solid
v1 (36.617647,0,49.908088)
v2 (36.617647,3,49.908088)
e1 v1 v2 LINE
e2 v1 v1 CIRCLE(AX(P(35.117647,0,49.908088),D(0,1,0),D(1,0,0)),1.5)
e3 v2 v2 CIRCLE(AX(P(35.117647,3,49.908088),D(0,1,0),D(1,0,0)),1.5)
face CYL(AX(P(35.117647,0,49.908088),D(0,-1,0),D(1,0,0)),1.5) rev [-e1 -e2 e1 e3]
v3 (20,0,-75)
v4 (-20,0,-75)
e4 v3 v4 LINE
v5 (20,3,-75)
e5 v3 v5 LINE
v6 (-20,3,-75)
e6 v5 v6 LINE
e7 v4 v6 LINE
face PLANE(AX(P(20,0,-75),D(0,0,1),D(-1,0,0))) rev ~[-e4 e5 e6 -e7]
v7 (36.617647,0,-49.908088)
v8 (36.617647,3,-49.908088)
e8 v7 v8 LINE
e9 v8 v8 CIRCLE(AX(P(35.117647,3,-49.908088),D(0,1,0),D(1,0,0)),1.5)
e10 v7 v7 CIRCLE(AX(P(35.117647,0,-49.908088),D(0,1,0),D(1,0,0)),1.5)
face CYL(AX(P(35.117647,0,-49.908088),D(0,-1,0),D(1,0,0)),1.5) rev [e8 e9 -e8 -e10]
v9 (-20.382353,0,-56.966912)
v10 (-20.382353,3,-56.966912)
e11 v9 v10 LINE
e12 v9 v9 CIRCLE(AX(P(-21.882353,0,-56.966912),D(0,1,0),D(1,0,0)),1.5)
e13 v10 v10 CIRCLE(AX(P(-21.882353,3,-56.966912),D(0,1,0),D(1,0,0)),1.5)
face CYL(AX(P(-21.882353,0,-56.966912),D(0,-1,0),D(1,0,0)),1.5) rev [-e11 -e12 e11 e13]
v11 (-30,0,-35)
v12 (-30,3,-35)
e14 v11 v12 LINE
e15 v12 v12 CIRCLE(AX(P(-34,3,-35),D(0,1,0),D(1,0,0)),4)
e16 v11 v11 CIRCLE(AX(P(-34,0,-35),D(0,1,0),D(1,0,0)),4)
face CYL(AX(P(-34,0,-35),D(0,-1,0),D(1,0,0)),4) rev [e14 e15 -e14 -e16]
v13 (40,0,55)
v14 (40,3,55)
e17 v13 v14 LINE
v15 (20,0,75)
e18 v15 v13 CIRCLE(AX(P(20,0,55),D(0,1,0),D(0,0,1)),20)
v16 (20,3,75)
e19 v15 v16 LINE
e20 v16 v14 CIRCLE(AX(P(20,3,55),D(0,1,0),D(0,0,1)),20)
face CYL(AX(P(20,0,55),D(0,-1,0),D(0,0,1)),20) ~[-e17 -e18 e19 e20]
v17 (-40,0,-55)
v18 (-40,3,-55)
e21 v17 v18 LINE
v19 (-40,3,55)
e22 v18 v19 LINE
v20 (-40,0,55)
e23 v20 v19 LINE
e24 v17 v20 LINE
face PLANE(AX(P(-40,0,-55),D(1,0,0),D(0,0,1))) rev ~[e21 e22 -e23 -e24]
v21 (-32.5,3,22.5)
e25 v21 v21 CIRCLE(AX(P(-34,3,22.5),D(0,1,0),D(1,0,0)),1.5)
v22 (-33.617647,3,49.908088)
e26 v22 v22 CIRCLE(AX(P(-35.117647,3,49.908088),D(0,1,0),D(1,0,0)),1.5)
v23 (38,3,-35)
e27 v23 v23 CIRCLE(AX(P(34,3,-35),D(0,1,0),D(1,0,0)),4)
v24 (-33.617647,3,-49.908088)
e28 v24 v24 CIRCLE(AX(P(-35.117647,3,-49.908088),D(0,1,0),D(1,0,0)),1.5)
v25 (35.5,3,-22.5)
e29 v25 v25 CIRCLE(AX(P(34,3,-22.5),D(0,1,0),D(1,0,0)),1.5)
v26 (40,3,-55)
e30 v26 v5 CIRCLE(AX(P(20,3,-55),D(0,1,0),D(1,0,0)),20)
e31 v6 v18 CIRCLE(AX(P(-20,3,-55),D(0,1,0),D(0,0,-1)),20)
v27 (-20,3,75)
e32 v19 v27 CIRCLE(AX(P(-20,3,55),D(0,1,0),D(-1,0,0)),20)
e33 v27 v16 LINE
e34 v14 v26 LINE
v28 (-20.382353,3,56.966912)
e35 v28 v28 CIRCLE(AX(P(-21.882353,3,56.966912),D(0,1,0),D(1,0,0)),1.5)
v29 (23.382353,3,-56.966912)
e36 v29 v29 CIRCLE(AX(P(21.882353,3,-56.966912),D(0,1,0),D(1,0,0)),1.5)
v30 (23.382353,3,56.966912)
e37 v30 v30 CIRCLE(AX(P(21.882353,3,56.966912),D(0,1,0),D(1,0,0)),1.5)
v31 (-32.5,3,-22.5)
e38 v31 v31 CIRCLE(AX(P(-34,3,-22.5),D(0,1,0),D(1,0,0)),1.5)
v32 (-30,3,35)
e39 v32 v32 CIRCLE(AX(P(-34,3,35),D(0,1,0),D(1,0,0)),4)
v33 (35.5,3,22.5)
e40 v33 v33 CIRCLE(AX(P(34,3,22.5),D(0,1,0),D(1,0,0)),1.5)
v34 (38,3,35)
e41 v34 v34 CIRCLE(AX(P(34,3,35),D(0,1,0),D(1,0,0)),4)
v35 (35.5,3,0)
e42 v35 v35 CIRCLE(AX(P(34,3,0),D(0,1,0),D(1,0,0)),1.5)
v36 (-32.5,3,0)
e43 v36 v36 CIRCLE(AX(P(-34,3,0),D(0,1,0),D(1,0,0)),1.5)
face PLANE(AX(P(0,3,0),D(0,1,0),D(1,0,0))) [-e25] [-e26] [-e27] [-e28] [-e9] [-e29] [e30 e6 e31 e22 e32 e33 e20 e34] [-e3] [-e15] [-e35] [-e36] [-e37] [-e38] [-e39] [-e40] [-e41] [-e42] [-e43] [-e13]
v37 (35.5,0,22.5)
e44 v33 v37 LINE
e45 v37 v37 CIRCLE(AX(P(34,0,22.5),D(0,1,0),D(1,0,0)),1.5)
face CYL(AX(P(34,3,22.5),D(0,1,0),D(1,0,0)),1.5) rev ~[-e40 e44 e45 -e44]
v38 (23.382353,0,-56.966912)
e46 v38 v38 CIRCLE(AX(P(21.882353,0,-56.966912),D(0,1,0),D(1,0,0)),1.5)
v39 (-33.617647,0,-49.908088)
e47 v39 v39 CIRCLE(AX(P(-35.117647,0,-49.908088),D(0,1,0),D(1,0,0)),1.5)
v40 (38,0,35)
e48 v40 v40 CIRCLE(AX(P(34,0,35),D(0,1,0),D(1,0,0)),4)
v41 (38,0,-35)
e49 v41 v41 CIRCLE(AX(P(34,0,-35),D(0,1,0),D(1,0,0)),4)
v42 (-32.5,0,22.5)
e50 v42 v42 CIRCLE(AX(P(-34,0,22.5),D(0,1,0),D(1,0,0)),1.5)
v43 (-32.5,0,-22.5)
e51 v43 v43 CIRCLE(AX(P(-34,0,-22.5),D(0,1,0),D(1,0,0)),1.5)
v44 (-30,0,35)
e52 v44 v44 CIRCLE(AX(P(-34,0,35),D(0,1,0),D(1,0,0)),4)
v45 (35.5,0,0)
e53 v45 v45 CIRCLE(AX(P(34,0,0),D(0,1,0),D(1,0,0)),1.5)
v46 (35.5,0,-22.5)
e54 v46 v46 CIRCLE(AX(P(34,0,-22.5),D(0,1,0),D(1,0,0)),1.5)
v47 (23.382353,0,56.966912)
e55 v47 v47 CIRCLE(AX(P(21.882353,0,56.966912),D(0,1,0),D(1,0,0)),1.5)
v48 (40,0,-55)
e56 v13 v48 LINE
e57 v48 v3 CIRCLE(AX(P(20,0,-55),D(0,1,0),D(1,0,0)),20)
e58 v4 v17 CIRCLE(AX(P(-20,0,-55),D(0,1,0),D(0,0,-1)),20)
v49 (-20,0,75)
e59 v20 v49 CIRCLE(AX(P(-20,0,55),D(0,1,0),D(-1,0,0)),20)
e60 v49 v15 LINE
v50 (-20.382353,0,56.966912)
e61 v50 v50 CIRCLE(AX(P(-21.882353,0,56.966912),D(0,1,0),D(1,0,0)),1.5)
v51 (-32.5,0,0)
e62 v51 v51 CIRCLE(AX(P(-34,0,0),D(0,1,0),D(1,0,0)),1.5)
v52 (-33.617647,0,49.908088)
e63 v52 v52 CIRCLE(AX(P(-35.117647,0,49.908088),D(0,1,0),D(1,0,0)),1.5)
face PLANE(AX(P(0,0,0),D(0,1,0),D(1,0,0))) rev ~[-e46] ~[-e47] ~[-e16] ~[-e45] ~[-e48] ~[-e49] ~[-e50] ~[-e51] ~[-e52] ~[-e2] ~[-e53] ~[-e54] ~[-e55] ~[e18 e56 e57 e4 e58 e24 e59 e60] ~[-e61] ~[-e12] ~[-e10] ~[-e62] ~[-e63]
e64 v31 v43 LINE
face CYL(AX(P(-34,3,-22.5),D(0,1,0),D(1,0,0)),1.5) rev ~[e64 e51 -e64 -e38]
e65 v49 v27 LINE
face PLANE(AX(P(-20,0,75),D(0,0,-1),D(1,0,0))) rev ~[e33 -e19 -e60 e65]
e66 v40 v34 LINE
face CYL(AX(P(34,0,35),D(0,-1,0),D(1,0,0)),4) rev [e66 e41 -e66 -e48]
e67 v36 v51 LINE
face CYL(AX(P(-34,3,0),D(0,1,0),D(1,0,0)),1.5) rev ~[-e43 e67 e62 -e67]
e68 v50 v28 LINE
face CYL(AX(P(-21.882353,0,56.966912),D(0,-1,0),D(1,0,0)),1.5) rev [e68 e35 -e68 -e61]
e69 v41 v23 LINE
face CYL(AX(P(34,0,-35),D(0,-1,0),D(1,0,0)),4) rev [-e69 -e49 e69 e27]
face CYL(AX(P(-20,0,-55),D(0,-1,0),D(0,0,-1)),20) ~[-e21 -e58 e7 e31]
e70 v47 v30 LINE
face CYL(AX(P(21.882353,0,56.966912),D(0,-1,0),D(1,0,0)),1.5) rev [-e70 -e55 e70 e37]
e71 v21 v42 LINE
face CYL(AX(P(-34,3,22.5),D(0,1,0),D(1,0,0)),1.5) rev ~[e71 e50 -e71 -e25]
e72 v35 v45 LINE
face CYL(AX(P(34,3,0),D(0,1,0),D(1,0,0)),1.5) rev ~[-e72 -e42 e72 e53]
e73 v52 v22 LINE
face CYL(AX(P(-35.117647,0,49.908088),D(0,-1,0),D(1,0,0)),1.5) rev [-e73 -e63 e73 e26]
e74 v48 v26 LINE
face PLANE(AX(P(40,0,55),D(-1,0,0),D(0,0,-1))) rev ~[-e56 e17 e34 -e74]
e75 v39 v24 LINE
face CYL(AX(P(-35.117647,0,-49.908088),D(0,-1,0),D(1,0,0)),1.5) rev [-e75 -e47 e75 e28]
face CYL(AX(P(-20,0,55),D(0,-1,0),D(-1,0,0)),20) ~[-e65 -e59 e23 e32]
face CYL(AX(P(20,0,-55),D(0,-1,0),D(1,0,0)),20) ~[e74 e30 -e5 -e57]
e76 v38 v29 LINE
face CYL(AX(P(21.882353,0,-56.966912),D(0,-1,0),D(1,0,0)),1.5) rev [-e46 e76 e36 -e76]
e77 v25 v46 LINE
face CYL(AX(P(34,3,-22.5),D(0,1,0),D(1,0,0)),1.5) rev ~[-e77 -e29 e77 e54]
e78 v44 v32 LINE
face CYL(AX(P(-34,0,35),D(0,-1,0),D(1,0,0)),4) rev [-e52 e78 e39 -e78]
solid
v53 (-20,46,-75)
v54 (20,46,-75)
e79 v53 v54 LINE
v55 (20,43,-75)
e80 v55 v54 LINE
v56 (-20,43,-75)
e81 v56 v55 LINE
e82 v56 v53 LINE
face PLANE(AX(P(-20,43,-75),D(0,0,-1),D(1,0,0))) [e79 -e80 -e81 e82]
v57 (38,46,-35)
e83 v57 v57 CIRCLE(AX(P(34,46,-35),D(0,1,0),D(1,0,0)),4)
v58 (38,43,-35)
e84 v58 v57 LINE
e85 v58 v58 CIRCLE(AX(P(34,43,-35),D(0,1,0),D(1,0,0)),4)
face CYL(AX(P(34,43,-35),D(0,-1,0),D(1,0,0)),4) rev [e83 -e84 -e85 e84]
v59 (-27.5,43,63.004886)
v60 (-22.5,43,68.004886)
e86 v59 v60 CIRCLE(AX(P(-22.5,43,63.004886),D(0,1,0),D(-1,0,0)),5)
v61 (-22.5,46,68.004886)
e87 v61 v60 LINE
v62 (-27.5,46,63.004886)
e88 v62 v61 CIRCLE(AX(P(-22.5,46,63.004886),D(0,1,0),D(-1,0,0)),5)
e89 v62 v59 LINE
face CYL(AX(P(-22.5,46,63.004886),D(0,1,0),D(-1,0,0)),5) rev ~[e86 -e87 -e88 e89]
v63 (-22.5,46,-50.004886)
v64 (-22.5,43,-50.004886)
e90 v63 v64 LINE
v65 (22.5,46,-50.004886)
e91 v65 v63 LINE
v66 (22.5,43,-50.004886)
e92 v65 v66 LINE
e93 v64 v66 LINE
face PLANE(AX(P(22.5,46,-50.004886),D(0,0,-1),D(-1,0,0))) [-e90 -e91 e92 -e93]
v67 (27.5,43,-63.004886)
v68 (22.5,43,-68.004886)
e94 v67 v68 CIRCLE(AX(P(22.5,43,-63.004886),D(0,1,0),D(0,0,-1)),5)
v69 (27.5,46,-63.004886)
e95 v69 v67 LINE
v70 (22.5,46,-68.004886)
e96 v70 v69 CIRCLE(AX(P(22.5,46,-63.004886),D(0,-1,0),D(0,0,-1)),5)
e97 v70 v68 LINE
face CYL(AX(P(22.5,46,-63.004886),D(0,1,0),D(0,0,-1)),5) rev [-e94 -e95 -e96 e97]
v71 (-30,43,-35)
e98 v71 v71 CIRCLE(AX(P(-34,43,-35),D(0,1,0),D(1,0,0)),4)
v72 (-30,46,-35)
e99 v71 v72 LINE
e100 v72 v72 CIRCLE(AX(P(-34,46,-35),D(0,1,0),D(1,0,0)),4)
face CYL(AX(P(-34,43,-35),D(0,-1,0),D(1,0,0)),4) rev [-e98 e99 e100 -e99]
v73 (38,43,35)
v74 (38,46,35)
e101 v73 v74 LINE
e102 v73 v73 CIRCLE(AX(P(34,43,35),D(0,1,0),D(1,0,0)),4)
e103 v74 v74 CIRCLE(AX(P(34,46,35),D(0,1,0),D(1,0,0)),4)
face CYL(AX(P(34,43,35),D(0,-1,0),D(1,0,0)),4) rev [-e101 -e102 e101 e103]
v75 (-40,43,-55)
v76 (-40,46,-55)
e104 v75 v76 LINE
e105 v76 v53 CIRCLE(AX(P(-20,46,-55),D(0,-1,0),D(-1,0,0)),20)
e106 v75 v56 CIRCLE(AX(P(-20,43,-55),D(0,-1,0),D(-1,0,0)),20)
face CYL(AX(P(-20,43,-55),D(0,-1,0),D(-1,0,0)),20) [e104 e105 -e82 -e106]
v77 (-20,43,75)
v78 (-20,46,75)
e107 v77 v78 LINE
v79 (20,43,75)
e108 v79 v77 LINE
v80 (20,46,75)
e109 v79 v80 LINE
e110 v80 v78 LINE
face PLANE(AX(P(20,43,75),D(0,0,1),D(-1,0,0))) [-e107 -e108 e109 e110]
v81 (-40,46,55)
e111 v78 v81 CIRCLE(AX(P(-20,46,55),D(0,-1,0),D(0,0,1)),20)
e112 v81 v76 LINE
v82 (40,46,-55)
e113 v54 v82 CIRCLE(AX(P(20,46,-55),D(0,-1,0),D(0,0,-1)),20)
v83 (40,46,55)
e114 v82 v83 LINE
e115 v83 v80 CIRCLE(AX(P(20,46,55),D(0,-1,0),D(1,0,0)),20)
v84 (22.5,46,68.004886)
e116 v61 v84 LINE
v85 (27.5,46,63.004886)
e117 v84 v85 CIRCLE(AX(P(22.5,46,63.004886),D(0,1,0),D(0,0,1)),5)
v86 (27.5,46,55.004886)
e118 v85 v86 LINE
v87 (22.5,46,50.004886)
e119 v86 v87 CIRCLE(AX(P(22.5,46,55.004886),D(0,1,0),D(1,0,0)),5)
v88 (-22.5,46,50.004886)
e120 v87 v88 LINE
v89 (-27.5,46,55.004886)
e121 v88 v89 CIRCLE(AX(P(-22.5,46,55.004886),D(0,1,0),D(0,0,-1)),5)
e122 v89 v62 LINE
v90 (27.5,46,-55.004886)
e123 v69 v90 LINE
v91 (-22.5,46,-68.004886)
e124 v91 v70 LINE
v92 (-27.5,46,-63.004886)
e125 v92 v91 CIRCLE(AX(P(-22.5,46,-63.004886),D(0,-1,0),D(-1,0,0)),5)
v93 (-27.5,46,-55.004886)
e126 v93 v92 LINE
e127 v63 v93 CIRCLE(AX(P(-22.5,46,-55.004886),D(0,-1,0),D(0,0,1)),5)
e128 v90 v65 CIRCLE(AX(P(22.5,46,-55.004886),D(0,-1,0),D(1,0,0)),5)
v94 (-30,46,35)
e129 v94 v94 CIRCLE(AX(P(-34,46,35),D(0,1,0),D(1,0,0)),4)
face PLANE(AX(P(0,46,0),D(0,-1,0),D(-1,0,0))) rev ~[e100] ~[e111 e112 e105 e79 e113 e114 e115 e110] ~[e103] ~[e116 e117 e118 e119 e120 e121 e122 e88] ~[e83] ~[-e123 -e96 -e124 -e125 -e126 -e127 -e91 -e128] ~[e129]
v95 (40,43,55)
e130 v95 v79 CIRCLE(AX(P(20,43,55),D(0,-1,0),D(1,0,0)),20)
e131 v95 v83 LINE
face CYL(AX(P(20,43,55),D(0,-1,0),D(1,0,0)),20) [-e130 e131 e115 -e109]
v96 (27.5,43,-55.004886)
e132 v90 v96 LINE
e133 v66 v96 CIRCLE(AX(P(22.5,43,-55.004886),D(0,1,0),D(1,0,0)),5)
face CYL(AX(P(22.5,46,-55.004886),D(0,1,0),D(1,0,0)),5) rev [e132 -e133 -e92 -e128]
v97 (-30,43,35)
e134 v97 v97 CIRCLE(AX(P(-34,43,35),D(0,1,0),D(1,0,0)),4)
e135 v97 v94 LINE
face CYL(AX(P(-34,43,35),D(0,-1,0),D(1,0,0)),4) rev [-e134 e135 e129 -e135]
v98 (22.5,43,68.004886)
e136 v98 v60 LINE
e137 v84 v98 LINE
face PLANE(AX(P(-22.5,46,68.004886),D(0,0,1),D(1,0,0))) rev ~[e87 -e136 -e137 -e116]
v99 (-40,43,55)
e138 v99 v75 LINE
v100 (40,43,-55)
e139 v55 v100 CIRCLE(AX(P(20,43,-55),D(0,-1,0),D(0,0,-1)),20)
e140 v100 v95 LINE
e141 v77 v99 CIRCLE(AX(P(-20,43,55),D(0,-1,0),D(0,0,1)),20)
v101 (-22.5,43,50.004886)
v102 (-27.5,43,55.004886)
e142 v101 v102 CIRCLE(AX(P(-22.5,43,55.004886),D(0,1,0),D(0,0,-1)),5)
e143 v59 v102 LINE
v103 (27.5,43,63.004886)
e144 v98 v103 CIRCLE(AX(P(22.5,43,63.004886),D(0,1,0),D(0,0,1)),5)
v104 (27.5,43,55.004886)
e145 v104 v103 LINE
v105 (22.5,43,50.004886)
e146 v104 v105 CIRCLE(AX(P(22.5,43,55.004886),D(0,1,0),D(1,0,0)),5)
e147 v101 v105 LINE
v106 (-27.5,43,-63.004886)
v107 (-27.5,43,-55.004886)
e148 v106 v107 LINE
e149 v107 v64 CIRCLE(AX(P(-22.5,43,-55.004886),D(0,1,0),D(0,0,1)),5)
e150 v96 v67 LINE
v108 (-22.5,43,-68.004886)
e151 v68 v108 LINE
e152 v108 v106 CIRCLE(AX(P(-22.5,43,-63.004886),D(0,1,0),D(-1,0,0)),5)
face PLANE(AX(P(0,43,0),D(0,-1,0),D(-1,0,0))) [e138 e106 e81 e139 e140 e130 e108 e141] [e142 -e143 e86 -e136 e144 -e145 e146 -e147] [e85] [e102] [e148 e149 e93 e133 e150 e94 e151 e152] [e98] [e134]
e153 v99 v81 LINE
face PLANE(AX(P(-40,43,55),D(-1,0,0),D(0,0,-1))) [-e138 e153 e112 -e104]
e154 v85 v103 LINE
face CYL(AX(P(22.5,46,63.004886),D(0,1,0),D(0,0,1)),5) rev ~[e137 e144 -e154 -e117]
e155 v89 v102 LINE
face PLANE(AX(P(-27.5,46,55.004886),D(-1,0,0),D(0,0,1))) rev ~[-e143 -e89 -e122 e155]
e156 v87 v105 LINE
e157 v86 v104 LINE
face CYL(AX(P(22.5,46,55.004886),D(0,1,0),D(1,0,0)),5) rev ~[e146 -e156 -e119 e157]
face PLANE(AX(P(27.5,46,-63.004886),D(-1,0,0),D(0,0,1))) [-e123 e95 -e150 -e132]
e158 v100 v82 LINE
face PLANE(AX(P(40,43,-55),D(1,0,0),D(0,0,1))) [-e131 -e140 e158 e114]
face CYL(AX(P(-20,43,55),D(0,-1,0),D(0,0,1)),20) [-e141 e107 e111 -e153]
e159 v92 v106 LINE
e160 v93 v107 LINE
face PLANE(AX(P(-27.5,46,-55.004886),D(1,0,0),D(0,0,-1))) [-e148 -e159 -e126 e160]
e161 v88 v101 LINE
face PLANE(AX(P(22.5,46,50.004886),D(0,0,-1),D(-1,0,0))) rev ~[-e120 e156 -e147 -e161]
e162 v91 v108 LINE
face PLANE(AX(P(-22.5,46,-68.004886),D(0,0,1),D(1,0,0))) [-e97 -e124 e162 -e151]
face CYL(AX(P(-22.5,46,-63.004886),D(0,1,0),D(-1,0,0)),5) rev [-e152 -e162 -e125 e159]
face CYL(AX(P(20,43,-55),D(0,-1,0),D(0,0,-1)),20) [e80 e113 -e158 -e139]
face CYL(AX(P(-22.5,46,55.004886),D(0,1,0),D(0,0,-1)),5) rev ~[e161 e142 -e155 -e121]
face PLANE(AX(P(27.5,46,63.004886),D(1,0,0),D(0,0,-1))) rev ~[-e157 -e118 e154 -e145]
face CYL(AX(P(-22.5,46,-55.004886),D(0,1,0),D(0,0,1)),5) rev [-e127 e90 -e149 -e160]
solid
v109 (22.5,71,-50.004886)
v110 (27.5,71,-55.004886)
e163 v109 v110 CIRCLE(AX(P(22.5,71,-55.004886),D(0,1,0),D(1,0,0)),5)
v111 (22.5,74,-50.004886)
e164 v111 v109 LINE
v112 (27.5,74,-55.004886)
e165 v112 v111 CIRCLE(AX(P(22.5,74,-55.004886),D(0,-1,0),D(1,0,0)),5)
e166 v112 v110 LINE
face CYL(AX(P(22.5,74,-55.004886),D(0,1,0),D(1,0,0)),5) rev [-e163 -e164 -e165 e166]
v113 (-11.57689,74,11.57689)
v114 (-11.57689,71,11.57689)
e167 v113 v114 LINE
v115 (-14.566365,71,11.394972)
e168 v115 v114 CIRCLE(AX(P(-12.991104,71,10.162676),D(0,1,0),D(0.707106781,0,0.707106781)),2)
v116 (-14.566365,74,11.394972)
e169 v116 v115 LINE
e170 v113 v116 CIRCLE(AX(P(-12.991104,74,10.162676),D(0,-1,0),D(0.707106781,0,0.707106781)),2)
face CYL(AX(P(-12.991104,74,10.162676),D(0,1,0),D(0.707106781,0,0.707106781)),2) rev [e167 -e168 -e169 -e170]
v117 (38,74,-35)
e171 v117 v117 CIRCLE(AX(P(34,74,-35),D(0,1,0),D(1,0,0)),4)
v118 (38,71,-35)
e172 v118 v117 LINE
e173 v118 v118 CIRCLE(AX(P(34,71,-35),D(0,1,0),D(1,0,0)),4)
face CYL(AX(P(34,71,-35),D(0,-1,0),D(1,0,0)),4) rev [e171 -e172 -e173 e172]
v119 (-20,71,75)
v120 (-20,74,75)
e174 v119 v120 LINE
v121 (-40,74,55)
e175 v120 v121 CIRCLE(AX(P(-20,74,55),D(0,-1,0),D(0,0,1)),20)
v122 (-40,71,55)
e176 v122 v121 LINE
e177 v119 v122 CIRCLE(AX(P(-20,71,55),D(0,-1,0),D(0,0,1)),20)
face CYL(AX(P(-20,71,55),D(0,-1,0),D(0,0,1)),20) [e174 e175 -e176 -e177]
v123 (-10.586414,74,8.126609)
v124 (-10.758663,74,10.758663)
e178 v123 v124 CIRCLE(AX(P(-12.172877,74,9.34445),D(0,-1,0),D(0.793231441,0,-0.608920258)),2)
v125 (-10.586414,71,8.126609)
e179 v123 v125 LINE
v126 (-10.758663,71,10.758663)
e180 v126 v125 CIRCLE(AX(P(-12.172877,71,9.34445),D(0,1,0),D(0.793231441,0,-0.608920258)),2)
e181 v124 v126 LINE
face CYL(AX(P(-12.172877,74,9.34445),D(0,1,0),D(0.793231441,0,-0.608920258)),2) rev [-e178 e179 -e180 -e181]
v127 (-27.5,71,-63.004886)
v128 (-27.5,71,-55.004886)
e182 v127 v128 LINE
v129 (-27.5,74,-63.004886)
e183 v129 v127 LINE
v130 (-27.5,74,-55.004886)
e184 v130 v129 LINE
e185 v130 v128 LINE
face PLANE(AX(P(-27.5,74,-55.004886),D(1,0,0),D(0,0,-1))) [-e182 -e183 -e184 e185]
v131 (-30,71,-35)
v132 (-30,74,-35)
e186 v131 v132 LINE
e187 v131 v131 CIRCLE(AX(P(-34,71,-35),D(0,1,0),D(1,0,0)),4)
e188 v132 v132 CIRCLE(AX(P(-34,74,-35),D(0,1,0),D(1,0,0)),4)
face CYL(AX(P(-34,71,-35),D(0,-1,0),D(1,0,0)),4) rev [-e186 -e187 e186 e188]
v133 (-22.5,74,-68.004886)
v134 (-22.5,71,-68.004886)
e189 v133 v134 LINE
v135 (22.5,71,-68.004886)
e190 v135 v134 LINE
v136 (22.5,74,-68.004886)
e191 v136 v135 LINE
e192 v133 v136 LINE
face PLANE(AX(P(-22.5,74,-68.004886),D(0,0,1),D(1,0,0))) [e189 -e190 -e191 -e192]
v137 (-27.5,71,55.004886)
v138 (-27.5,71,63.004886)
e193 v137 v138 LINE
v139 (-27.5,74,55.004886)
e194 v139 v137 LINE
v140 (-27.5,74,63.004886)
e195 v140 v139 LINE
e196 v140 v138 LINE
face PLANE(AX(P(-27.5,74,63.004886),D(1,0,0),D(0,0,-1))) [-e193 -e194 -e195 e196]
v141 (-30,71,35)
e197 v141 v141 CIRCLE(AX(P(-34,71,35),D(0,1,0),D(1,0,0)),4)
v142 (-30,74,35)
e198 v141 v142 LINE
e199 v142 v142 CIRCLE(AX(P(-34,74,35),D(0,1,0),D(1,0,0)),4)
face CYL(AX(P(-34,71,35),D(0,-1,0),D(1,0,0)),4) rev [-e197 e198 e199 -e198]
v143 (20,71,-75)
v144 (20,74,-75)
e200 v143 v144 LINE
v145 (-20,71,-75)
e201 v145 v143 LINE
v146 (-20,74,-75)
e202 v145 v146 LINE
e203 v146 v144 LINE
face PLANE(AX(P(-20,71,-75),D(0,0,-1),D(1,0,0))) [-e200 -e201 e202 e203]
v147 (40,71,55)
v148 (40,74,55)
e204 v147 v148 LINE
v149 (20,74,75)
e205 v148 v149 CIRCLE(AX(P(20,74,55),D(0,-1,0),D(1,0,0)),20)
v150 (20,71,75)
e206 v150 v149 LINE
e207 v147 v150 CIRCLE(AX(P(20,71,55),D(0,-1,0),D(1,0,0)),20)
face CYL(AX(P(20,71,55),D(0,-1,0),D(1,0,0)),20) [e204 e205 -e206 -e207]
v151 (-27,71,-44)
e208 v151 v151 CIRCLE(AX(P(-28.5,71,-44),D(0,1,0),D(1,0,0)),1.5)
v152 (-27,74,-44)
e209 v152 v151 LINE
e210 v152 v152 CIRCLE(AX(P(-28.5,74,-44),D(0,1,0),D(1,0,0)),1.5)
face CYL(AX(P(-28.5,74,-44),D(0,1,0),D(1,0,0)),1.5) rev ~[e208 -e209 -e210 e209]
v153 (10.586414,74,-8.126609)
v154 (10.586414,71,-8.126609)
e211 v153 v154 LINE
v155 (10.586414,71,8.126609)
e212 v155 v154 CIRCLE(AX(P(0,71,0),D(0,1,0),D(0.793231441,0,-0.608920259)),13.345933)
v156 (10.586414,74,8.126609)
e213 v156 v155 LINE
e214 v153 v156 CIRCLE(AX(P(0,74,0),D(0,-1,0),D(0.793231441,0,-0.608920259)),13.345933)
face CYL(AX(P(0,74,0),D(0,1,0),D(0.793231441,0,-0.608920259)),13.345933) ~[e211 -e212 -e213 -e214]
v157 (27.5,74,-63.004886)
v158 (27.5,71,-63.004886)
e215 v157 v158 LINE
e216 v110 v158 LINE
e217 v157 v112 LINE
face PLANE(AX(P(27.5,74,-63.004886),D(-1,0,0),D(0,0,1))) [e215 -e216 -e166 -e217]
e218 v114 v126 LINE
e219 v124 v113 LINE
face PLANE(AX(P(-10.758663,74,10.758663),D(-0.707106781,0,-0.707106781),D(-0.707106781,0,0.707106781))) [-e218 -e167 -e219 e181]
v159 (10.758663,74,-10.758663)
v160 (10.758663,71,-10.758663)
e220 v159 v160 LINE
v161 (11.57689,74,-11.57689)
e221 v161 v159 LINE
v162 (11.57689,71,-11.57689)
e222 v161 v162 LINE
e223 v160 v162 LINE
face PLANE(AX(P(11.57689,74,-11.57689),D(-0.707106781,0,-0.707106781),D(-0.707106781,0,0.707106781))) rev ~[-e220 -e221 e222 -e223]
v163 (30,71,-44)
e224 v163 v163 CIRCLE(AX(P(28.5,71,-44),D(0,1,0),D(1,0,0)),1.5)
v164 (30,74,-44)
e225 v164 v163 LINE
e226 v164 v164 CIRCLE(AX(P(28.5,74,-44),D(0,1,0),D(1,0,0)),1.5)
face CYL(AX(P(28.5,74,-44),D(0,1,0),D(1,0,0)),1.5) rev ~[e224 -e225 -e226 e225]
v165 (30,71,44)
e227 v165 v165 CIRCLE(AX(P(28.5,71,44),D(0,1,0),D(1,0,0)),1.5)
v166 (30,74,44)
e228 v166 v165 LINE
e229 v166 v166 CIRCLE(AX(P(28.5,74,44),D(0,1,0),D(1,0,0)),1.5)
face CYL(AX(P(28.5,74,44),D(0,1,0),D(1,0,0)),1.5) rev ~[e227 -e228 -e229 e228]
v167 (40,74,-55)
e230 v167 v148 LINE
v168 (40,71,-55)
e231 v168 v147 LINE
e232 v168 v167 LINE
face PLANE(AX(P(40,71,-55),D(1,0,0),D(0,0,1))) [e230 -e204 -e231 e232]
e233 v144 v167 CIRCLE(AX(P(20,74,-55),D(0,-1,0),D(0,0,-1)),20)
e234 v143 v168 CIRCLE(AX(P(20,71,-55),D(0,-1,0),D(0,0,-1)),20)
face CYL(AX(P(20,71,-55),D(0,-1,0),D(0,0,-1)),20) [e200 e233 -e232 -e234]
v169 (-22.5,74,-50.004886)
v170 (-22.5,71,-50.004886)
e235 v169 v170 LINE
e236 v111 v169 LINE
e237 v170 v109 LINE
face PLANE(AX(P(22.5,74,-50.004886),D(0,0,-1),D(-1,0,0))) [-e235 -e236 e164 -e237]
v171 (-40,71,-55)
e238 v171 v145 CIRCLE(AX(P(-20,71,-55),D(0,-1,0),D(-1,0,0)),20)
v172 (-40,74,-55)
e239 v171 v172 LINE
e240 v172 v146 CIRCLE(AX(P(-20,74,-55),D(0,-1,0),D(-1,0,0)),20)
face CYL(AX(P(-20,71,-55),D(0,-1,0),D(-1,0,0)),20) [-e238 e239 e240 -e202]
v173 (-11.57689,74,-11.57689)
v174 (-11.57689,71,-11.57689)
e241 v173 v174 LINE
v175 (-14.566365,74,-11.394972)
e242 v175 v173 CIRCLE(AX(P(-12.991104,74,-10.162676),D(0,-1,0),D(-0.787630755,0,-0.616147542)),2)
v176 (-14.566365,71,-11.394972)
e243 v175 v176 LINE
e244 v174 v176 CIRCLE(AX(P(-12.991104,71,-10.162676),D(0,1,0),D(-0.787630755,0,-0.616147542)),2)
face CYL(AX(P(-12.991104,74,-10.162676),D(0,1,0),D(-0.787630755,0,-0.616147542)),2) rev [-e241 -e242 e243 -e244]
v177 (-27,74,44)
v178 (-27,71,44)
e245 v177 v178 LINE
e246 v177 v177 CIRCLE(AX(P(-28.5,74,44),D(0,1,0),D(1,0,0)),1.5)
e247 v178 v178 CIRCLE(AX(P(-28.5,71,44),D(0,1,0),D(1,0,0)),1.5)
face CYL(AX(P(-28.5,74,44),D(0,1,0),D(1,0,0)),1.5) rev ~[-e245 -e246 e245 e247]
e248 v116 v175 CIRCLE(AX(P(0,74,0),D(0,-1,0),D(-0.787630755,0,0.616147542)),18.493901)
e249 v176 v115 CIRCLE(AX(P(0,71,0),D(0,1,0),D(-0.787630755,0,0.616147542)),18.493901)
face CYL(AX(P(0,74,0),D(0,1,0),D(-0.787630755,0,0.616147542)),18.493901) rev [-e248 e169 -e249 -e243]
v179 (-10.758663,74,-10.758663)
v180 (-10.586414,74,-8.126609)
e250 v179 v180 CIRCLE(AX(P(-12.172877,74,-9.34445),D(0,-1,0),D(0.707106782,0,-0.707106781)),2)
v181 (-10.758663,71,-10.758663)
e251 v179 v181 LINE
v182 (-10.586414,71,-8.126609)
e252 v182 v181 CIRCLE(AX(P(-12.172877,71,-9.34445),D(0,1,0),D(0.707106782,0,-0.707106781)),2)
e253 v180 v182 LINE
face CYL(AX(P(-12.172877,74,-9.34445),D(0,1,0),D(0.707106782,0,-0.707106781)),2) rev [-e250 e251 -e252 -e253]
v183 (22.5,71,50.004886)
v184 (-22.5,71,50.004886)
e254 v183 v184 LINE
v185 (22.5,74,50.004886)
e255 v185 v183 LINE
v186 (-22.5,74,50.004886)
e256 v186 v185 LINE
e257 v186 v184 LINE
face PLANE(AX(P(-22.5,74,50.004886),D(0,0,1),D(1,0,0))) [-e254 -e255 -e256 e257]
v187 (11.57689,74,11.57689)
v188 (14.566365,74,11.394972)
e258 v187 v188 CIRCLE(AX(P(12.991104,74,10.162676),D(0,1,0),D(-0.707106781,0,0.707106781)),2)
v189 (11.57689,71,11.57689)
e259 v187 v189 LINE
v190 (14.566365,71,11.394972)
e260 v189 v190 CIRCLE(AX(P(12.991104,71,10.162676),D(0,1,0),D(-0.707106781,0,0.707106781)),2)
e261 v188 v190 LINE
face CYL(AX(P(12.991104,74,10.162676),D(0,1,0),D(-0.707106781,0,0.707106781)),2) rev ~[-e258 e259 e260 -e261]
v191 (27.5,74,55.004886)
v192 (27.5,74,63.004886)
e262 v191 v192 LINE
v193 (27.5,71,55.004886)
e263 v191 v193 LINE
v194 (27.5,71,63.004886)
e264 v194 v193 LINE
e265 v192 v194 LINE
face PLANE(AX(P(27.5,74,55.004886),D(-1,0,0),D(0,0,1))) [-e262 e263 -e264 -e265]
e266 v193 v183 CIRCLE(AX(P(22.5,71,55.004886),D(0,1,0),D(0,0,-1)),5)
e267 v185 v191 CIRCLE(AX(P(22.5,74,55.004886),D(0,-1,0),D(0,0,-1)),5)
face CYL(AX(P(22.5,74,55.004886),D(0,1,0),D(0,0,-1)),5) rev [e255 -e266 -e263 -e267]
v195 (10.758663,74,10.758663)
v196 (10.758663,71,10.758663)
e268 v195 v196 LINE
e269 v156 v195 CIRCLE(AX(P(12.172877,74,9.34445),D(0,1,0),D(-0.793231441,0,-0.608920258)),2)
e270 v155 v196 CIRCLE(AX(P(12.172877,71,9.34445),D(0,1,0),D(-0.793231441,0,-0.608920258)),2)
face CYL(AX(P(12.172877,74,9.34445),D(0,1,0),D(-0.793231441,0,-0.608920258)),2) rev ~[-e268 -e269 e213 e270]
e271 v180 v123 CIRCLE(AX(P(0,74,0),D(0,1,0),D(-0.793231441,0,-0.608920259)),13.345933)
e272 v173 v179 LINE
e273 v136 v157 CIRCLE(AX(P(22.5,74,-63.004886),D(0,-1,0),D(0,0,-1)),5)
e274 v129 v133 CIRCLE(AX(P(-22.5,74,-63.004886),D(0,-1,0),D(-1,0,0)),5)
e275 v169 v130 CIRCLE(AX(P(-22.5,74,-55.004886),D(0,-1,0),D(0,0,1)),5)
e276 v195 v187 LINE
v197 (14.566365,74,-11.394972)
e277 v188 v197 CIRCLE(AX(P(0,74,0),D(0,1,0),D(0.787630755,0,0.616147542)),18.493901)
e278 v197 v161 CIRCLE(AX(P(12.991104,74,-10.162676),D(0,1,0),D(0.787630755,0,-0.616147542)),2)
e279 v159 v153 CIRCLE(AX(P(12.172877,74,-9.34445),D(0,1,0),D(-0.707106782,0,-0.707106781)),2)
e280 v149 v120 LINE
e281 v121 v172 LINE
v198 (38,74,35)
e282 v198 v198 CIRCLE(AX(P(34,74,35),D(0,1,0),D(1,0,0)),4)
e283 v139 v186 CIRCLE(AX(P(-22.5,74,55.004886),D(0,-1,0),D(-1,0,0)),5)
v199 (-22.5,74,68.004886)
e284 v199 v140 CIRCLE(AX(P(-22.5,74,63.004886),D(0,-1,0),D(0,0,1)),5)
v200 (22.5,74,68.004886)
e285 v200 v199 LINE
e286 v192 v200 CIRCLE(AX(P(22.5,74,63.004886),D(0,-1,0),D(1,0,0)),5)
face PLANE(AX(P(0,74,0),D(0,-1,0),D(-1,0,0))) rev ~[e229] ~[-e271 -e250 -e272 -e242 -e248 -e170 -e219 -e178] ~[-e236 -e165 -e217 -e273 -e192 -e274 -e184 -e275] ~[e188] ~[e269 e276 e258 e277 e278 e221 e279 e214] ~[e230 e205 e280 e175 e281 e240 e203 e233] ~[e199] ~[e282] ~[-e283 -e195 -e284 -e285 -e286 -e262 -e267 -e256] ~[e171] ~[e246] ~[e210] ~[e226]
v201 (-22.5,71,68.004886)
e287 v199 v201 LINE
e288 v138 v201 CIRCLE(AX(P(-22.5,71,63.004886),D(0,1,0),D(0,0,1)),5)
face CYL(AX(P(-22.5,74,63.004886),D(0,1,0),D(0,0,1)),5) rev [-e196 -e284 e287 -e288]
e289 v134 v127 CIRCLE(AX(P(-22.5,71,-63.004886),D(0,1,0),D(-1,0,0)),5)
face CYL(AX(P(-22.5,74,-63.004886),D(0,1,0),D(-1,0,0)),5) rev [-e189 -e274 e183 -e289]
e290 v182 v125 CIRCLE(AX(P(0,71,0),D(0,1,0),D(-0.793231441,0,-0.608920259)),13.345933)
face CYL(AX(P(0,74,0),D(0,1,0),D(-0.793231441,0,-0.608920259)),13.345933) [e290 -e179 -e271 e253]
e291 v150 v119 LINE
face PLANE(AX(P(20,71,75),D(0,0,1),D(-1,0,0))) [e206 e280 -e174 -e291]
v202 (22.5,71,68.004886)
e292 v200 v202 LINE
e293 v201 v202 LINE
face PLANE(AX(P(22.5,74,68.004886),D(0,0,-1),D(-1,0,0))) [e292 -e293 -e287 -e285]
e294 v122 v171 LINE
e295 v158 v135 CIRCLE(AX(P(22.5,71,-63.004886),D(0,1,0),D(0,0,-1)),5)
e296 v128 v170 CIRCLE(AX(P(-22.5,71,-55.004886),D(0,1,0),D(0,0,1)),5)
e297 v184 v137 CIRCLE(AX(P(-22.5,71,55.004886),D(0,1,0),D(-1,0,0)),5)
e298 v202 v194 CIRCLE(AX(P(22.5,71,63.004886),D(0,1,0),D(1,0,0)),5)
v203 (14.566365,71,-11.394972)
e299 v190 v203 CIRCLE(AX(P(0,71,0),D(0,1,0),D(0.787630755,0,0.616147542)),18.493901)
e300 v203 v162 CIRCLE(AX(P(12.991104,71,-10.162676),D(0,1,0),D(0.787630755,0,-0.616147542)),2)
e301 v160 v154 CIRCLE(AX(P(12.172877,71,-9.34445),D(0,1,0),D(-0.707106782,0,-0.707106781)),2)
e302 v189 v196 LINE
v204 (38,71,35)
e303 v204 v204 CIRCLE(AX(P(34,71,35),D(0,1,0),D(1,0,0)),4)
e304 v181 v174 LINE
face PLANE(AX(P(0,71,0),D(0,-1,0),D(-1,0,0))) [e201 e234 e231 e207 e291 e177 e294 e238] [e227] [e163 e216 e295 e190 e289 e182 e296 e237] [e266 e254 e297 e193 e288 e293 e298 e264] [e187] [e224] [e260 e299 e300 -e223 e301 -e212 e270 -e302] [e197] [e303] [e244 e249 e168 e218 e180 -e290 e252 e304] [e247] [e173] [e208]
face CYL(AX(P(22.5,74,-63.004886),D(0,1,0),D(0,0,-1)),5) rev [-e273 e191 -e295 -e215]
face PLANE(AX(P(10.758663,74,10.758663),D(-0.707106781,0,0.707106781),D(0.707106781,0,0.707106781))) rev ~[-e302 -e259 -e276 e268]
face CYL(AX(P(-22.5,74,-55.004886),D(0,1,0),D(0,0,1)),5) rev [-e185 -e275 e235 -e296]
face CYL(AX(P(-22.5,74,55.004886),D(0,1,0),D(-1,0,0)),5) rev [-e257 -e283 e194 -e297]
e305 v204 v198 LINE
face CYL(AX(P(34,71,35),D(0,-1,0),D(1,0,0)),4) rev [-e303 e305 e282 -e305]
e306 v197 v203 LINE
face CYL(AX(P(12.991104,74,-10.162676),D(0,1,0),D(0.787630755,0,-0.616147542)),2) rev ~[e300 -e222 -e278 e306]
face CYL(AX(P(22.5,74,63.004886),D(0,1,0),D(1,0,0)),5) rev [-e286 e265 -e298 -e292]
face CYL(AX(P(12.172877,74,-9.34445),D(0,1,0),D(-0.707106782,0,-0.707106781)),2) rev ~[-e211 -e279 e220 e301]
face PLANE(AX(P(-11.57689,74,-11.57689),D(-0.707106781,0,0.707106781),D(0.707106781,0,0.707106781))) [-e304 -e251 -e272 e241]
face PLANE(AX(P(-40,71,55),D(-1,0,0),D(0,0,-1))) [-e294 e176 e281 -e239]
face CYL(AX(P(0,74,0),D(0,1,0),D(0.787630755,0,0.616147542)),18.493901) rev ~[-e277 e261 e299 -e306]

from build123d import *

# Parameters (mm, degrees)
SKETCH1_R           = 4
SKETCH1_R_2         = 1.5
BOSS_EXTRUDE1_DEPTH = 3
BOSS_EXTRUDE2_START = 43
SKETCH1_2_R         = 1.5
SKETCH1_2_R_2       = 4
BOSS_EXTRUDE2_DEPTH = 3
BOSS_EXTRUDE3_START = 71
SKETCH1_3_R         = 1.5
SKETCH1_3_R_2       = 4
BOSS_EXTRUDE3_DEPTH = 3
SKETCH3_R           = 1.5
CUT_EXTRUDE1_DEPTH  = 10
CUT_EXTRUDE2_DEPTH  = 31
CUT_EXTRUDE3_DEPTH  = 10
SKETCH6_R           = 1.5
CUT_EXTRUDE5_DEPTH  = 31


with BuildPart() as part:
    # Sketch1 → Boss-Extrude1 (new body)
    with BuildSketch(Plane(origin=(0, 0, 0), x_dir=(1, 0, 0), z_dir=(0, 1, 0))):
        with BuildLine():
            Line((-20, -75), (20, -75))
            ThreePointArc((20, -75), (34.142135624, -69.142135624), (40, -55))
            Line((40, -55), (40, 55))
            ThreePointArc((40, 55), (34.142135624, 69.142135624), (20, 75))
            Line((20, 75), (-20, 75))
            ThreePointArc((-20, 75), (-34.142135624, 69.142135624), (-40, 55))
            Line((-40, 55), (-40, -55))
            ThreePointArc((-40, -55), (-34.142135624, -69.142135624), (-20, -75))
        make_face()
        with Locations((-34, 35)):
            Circle(SKETCH1_R, mode=Mode.SUBTRACT)
        with Locations((34, 35)):
            Circle(SKETCH1_R, mode=Mode.SUBTRACT)
        with Locations((34, -35)):
            Circle(SKETCH1_R, mode=Mode.SUBTRACT)
        with Locations((-34, -35)):
            Circle(SKETCH1_R, mode=Mode.SUBTRACT)
        with Locations((21.882352941, -56.966911765)):
            Circle(SKETCH1_R_2, mode=Mode.SUBTRACT)
        with Locations((35.117647059, -49.908088235)):
            Circle(SKETCH1_R_2, mode=Mode.SUBTRACT)
        with Locations((-35.117647059, 49.908088235)):
            Circle(SKETCH1_R_2, mode=Mode.SUBTRACT)
        with Locations((-21.882352941, 56.966911765)):
            Circle(SKETCH1_R_2, mode=Mode.SUBTRACT)
        with Locations((35.117647059, 49.908088235)):
            Circle(SKETCH1_R_2, mode=Mode.SUBTRACT)
        with Locations((21.882352941, 56.966911765)):
            Circle(SKETCH1_R_2, mode=Mode.SUBTRACT)
        with Locations((-21.882352941, -56.966911765)):
            Circle(SKETCH1_R_2, mode=Mode.SUBTRACT)
        with Locations((-35.117647059, -49.908088235)):
            Circle(SKETCH1_R_2, mode=Mode.SUBTRACT)
    extrude(amount=BOSS_EXTRUDE1_DEPTH)

    # Sketch6 → Cut-Extrude5 (cut)
    with BuildSketch(Plane(origin=(0, 3, 0), x_dir=(1, 0, 0), z_dir=(0, 1, 0))):
        with Locations((-34, 22.5)):
            Circle(SKETCH6_R)
        with Locations((-34, -22.5)):
            Circle(SKETCH6_R)
        with Locations((-34, 0)):
            Circle(SKETCH6_R)
        with Locations((34, -22.5)):
            Circle(SKETCH6_R)
        with Locations((34, 0)):
            Circle(SKETCH6_R)
        with Locations((34, 22.5)):
            Circle(SKETCH6_R)
    extrude(amount=-CUT_EXTRUDE5_DEPTH, mode=Mode.SUBTRACT)


with BuildPart() as body_2:
    # Sketch1<2> → Boss-Extrude2 (new body)
    with BuildSketch(Plane(origin=(0, 0, 0), x_dir=(1, 0, 0), z_dir=(0, 1, 0)).offset(BOSS_EXTRUDE2_START)):
        with BuildLine():
            ThreePointArc((-20, -75), (-34.142135624, -69.142135624), (-40, -55))
            Line((-40, -55), (-40, 55))
            ThreePointArc((-40, 55), (-34.142135624, 69.142135624), (-20, 75))
            Line((-20, 75), (20, 75))
            ThreePointArc((20, 75), (34.142135624, 69.142135624), (40, 55))
            Line((40, 55), (40, -55))
            ThreePointArc((40, -55), (34.142135624, -69.142135624), (20, -75))
            Line((20, -75), (-20, -75))
        make_face()
        with Locations((35.117647059, -49.908088235)):
            Circle(SKETCH1_2_R, mode=Mode.SUBTRACT)
        with Locations((21.882352941, -56.966911765)):
            Circle(SKETCH1_2_R, mode=Mode.SUBTRACT)
        with Locations((34, 35)):
            Circle(SKETCH1_2_R_2, mode=Mode.SUBTRACT)
        with Locations((-34, 35)):
            Circle(SKETCH1_2_R_2, mode=Mode.SUBTRACT)
        with Locations((34, -35)):
            Circle(SKETCH1_2_R_2, mode=Mode.SUBTRACT)
        with Locations((-34, -35)):
            Circle(SKETCH1_2_R_2, mode=Mode.SUBTRACT)
        with Locations((35.117647059, -49.908088235)):
            Circle(SKETCH1_2_R)
        with Locations((-21.882352941, -56.966911765)):
            Circle(SKETCH1_2_R)
        with Locations((-35.117647059, -49.908088235)):
            Circle(SKETCH1_2_R)
        with Locations((21.882352941, -56.966911765)):
            Circle(SKETCH1_2_R)
        with Locations((-21.882352941, 56.966911765)):
            Circle(SKETCH1_2_R)
        with Locations((-35.117647059, 49.908088235)):
            Circle(SKETCH1_2_R)
        with Locations((21.882352941, 56.966911765)):
            Circle(SKETCH1_2_R)
        with Locations((35.117647059, 49.908088235)):
            Circle(SKETCH1_2_R)
    extrude(amount=BOSS_EXTRUDE2_DEPTH)

    # Sketch5 → Cut-Extrude3 (cut)
    with BuildSketch(Plane(origin=(0, 46, 0), x_dir=(1, 0, 0), z_dir=(0, 1, 0))):
        with BuildLine():
            ThreePointArc((-22.5, 50.004885749), (-26.035533906, 51.469351843), (-27.5, 55.004885749))
            Line((-27.5, 55.004885749), (-27.5, 63.004885749))
            ThreePointArc((-27.5, 63.004885749), (-26.035533906, 66.540419655), (-22.5, 68.004885749))
            Line((-22.5, 68.004885749), (22.5, 68.004885749))
            ThreePointArc((22.5, 68.004885749), (26.035533906, 66.540419655), (27.5, 63.004885749))
            Line((27.5, 63.004885749), (27.5, 55.004885749))
            ThreePointArc((27.5, 55.004885749), (26.035533906, 51.469351843), (22.5, 50.004885749))
            Line((22.5, 50.004885749), (-22.5, 50.004885749))
        make_face()
        with BuildLine():
            Line((-22.5, -68.004885749), (22.5, -68.004885749))
            ThreePointArc((22.5, -68.004885749), (26.035533906, -66.540419655), (27.5, -63.004885749))
            Line((27.5, -63.004885749), (27.5, -55.004885749))
            ThreePointArc((27.5, -55.004885749), (26.035533906, -51.469351843), (22.5, -50.004885749))
            Line((22.5, -50.004885749), (-22.5, -50.004885749))
            ThreePointArc((-22.5, -50.004885749), (-26.035533906, -51.469351843), (-27.5, -55.004885749))
            Line((-27.5, -55.004885749), (-27.5, -63.004885749))
            ThreePointArc((-27.5, -63.004885749), (-26.035533906, -66.540419655), (-22.5, -68.004885749))
        make_face()
    extrude(amount=-CUT_EXTRUDE3_DEPTH, mode=Mode.SUBTRACT)


with BuildPart() as body_3:
    # Sketch1<3> → Boss-Extrude3 (new body)
    with BuildSketch(Plane(origin=(0, 0, 0), x_dir=(1, 0, 0), z_dir=(0, 1, 0)).offset(BOSS_EXTRUDE3_START)):
        with BuildLine():
            ThreePointArc((-20, -75), (-34.142135624, -69.142135624), (-40, -55))
            Line((-40, -55), (-40, 55))
            ThreePointArc((-40, 55), (-34.142135624, 69.142135624), (-20, 75))
            Line((-20, 75), (20, 75))
            ThreePointArc((20, 75), (34.142135624, 69.142135624), (40, 55))
            Line((40, 55), (40, -55))
            ThreePointArc((40, -55), (34.142135624, -69.142135624), (20, -75))
            Line((20, -75), (-20, -75))
        make_face()
        with Locations((-21.882352941, -56.966911765)):
            Circle(SKETCH1_3_R, mode=Mode.SUBTRACT)
        with Locations((21.882352941, 56.966911765)):
            Circle(SKETCH1_3_R, mode=Mode.SUBTRACT)
        with Locations((35.117647059, 49.908088235)):
            Circle(SKETCH1_3_R, mode=Mode.SUBTRACT)
        with Locations((-35.117647059, 49.908088235)):
            Circle(SKETCH1_3_R, mode=Mode.SUBTRACT)
        with Locations((35.117647059, -49.908088235)):
            Circle(SKETCH1_3_R, mode=Mode.SUBTRACT)
        with Locations((21.882352941, -56.966911765)):
            Circle(SKETCH1_3_R, mode=Mode.SUBTRACT)
        with Locations((34, 35)):
            Circle(SKETCH1_3_R_2, mode=Mode.SUBTRACT)
        with Locations((-34, 35)):
            Circle(SKETCH1_3_R_2, mode=Mode.SUBTRACT)
        with Locations((34, -35)):
            Circle(SKETCH1_3_R_2, mode=Mode.SUBTRACT)
        with Locations((-34, -35)):
            Circle(SKETCH1_3_R_2, mode=Mode.SUBTRACT)
        with Locations((-21.882352941, 56.966911765)):
            Circle(SKETCH1_3_R, mode=Mode.SUBTRACT)
        with Locations((-35.117647059, -49.908088235)):
            Circle(SKETCH1_3_R, mode=Mode.SUBTRACT)
        with Locations((-21.882352941, 56.966911765)):
            Circle(SKETCH1_3_R)
        with Locations((-35.117647059, 49.908088235)):
            Circle(SKETCH1_3_R)
        with Locations((21.882352941, 56.966911765)):
            Circle(SKETCH1_3_R)
        with Locations((35.117647059, 49.908088235)):
            Circle(SKETCH1_3_R)
        with Locations((35.117647059, -49.908088235)):
            Circle(SKETCH1_3_R)
        with Locations((21.882352941, -56.966911765)):
            Circle(SKETCH1_3_R)
        with Locations((-35.117647059, -49.908088235)):
            Circle(SKETCH1_3_R)
        with Locations((-21.882352941, -56.966911765)):
            Circle(SKETCH1_3_R)
    extrude(amount=BOSS_EXTRUDE3_DEPTH)

    # Sketch3 → Cut-Extrude1 (cut)
    with BuildSketch(Plane(origin=(0, 74, 0), x_dir=(1, 0, 0), z_dir=(0, 1, 0))):
        with Locations((28.5, 44)):
            Circle(SKETCH3_R)
        with Locations((-28.5, 44)):
            Circle(SKETCH3_R)
        with Locations((-28.5, -44)):
            Circle(SKETCH3_R)
        with Locations((28.5, -44)):
            Circle(SKETCH3_R)
    extrude(amount=-CUT_EXTRUDE1_DEPTH, mode=Mode.SUBTRACT)

    # Sketch4 → Cut-Extrude2 (cut)
    with BuildSketch(Plane(origin=(0, 74, 0), x_dir=(1, 0, 0), z_dir=(0, 1, 0))):
        with BuildLine():
            ThreePointArc((22.5, 68.004885749), (26.035533906, 66.540419655), (27.5, 63.004885749))
            Line((27.5, 63.004885749), (27.5, 55.004885749))
            ThreePointArc((27.5, 55.004885749), (26.035533906, 51.469351843), (22.5, 50.004885749))
            Line((22.5, 50.004885749), (-22.5, 50.004885749))
            ThreePointArc((-22.5, 50.004885749), (-26.035533906, 51.469351843), (-27.5, 55.004885749))
            Line((-27.5, 55.004885749), (-27.5, 63.004885749))
            ThreePointArc((-27.5, 63.004885749), (-26.035533906, 66.540419655), (-22.5, 68.004885749))
            Line((-22.5, 68.004885749), (22.5, 68.004885749))
        make_face()
        with BuildLine():
            ThreePointArc((-27.5, -55.004885749), (-26.035533906, -51.469351843), (-22.5, -50.004885749))
            Line((-22.5, -50.004885749), (22.5, -50.004885749))
            ThreePointArc((22.5, -50.004885749), (26.035533906, -51.469351843), (27.5, -55.004885749))
            Line((27.5, -55.004885749), (27.5, -63.004885749))
            ThreePointArc((27.5, -63.004885749), (26.035533906, -66.540419655), (22.5, -68.004885749))
            Line((22.5, -68.004885749), (-22.5, -68.004885749))
            ThreePointArc((-22.5, -68.004885749), (-26.035533906, -66.540419655), (-27.5, -63.004885749))
            Line((-27.5, -63.004885749), (-27.5, -55.004885749))
        make_face()
        with BuildLine():
            Line((11.576890024, 11.576890024), (10.7586633, 10.7586633))
            ThreePointArc((10.7586633, 10.7586633), (10.177145932, 9.475056209), (10.586413981, 8.126609221))
            ThreePointArc((10.586413981, 8.126609221), (13.345933404, 0), (10.586413981, -8.126609221))
            ThreePointArc((10.586413981, -8.126609221), (10.177145932, -9.475056209), (10.7586633, -10.7586633))
            Line((10.7586633, -10.7586633), (11.576890024, -11.576890024))
            ThreePointArc((11.576890024, -11.576890024), (13.112584835, -12.158983629), (14.566365097, -11.394971545))
            ThreePointArc((14.566365097, -11.394971545), (18.49390085, 0), (14.566365097, 11.394971545))
            ThreePointArc((14.566365097, 11.394971545), (13.112584835, 12.158983629), (11.576890024, 11.576890024))
        make_face()
        with BuildLine():
            ThreePointArc((-10.7586633, 10.7586633), (-10.177145932, 9.475056209), (-10.586413981, 8.126609221))
            ThreePointArc((-10.586413981, 8.126609221), (-13.345933404, 0), (-10.586413981, -8.126609221))
            ThreePointArc((-10.586413981, -8.126609221), (-10.177145932, -9.475056209), (-10.7586633, -10.7586633))
            Line((-10.7586633, -10.7586633), (-11.576890024, -11.576890024))
            ThreePointArc((-11.576890024, -11.576890024), (-13.112584835, -12.158983629), (-14.566365097, -11.394971545))
            ThreePointArc((-14.566365097, -11.394971545), (-18.49390085, 0), (-14.566365097, 11.394971545))
            ThreePointArc((-14.566365097, 11.394971545), (-13.112584835, 12.158983629), (-11.576890024, 11.576890024))
            Line((-11.576890024, 11.576890024), (-10.7586633, 10.7586633))
        make_face()
    extrude(amount=-CUT_EXTRUDE2_DEPTH, mode=Mode.SUBTRACT)


solid = Compound([part.part, body_2.part, body_3.part])
